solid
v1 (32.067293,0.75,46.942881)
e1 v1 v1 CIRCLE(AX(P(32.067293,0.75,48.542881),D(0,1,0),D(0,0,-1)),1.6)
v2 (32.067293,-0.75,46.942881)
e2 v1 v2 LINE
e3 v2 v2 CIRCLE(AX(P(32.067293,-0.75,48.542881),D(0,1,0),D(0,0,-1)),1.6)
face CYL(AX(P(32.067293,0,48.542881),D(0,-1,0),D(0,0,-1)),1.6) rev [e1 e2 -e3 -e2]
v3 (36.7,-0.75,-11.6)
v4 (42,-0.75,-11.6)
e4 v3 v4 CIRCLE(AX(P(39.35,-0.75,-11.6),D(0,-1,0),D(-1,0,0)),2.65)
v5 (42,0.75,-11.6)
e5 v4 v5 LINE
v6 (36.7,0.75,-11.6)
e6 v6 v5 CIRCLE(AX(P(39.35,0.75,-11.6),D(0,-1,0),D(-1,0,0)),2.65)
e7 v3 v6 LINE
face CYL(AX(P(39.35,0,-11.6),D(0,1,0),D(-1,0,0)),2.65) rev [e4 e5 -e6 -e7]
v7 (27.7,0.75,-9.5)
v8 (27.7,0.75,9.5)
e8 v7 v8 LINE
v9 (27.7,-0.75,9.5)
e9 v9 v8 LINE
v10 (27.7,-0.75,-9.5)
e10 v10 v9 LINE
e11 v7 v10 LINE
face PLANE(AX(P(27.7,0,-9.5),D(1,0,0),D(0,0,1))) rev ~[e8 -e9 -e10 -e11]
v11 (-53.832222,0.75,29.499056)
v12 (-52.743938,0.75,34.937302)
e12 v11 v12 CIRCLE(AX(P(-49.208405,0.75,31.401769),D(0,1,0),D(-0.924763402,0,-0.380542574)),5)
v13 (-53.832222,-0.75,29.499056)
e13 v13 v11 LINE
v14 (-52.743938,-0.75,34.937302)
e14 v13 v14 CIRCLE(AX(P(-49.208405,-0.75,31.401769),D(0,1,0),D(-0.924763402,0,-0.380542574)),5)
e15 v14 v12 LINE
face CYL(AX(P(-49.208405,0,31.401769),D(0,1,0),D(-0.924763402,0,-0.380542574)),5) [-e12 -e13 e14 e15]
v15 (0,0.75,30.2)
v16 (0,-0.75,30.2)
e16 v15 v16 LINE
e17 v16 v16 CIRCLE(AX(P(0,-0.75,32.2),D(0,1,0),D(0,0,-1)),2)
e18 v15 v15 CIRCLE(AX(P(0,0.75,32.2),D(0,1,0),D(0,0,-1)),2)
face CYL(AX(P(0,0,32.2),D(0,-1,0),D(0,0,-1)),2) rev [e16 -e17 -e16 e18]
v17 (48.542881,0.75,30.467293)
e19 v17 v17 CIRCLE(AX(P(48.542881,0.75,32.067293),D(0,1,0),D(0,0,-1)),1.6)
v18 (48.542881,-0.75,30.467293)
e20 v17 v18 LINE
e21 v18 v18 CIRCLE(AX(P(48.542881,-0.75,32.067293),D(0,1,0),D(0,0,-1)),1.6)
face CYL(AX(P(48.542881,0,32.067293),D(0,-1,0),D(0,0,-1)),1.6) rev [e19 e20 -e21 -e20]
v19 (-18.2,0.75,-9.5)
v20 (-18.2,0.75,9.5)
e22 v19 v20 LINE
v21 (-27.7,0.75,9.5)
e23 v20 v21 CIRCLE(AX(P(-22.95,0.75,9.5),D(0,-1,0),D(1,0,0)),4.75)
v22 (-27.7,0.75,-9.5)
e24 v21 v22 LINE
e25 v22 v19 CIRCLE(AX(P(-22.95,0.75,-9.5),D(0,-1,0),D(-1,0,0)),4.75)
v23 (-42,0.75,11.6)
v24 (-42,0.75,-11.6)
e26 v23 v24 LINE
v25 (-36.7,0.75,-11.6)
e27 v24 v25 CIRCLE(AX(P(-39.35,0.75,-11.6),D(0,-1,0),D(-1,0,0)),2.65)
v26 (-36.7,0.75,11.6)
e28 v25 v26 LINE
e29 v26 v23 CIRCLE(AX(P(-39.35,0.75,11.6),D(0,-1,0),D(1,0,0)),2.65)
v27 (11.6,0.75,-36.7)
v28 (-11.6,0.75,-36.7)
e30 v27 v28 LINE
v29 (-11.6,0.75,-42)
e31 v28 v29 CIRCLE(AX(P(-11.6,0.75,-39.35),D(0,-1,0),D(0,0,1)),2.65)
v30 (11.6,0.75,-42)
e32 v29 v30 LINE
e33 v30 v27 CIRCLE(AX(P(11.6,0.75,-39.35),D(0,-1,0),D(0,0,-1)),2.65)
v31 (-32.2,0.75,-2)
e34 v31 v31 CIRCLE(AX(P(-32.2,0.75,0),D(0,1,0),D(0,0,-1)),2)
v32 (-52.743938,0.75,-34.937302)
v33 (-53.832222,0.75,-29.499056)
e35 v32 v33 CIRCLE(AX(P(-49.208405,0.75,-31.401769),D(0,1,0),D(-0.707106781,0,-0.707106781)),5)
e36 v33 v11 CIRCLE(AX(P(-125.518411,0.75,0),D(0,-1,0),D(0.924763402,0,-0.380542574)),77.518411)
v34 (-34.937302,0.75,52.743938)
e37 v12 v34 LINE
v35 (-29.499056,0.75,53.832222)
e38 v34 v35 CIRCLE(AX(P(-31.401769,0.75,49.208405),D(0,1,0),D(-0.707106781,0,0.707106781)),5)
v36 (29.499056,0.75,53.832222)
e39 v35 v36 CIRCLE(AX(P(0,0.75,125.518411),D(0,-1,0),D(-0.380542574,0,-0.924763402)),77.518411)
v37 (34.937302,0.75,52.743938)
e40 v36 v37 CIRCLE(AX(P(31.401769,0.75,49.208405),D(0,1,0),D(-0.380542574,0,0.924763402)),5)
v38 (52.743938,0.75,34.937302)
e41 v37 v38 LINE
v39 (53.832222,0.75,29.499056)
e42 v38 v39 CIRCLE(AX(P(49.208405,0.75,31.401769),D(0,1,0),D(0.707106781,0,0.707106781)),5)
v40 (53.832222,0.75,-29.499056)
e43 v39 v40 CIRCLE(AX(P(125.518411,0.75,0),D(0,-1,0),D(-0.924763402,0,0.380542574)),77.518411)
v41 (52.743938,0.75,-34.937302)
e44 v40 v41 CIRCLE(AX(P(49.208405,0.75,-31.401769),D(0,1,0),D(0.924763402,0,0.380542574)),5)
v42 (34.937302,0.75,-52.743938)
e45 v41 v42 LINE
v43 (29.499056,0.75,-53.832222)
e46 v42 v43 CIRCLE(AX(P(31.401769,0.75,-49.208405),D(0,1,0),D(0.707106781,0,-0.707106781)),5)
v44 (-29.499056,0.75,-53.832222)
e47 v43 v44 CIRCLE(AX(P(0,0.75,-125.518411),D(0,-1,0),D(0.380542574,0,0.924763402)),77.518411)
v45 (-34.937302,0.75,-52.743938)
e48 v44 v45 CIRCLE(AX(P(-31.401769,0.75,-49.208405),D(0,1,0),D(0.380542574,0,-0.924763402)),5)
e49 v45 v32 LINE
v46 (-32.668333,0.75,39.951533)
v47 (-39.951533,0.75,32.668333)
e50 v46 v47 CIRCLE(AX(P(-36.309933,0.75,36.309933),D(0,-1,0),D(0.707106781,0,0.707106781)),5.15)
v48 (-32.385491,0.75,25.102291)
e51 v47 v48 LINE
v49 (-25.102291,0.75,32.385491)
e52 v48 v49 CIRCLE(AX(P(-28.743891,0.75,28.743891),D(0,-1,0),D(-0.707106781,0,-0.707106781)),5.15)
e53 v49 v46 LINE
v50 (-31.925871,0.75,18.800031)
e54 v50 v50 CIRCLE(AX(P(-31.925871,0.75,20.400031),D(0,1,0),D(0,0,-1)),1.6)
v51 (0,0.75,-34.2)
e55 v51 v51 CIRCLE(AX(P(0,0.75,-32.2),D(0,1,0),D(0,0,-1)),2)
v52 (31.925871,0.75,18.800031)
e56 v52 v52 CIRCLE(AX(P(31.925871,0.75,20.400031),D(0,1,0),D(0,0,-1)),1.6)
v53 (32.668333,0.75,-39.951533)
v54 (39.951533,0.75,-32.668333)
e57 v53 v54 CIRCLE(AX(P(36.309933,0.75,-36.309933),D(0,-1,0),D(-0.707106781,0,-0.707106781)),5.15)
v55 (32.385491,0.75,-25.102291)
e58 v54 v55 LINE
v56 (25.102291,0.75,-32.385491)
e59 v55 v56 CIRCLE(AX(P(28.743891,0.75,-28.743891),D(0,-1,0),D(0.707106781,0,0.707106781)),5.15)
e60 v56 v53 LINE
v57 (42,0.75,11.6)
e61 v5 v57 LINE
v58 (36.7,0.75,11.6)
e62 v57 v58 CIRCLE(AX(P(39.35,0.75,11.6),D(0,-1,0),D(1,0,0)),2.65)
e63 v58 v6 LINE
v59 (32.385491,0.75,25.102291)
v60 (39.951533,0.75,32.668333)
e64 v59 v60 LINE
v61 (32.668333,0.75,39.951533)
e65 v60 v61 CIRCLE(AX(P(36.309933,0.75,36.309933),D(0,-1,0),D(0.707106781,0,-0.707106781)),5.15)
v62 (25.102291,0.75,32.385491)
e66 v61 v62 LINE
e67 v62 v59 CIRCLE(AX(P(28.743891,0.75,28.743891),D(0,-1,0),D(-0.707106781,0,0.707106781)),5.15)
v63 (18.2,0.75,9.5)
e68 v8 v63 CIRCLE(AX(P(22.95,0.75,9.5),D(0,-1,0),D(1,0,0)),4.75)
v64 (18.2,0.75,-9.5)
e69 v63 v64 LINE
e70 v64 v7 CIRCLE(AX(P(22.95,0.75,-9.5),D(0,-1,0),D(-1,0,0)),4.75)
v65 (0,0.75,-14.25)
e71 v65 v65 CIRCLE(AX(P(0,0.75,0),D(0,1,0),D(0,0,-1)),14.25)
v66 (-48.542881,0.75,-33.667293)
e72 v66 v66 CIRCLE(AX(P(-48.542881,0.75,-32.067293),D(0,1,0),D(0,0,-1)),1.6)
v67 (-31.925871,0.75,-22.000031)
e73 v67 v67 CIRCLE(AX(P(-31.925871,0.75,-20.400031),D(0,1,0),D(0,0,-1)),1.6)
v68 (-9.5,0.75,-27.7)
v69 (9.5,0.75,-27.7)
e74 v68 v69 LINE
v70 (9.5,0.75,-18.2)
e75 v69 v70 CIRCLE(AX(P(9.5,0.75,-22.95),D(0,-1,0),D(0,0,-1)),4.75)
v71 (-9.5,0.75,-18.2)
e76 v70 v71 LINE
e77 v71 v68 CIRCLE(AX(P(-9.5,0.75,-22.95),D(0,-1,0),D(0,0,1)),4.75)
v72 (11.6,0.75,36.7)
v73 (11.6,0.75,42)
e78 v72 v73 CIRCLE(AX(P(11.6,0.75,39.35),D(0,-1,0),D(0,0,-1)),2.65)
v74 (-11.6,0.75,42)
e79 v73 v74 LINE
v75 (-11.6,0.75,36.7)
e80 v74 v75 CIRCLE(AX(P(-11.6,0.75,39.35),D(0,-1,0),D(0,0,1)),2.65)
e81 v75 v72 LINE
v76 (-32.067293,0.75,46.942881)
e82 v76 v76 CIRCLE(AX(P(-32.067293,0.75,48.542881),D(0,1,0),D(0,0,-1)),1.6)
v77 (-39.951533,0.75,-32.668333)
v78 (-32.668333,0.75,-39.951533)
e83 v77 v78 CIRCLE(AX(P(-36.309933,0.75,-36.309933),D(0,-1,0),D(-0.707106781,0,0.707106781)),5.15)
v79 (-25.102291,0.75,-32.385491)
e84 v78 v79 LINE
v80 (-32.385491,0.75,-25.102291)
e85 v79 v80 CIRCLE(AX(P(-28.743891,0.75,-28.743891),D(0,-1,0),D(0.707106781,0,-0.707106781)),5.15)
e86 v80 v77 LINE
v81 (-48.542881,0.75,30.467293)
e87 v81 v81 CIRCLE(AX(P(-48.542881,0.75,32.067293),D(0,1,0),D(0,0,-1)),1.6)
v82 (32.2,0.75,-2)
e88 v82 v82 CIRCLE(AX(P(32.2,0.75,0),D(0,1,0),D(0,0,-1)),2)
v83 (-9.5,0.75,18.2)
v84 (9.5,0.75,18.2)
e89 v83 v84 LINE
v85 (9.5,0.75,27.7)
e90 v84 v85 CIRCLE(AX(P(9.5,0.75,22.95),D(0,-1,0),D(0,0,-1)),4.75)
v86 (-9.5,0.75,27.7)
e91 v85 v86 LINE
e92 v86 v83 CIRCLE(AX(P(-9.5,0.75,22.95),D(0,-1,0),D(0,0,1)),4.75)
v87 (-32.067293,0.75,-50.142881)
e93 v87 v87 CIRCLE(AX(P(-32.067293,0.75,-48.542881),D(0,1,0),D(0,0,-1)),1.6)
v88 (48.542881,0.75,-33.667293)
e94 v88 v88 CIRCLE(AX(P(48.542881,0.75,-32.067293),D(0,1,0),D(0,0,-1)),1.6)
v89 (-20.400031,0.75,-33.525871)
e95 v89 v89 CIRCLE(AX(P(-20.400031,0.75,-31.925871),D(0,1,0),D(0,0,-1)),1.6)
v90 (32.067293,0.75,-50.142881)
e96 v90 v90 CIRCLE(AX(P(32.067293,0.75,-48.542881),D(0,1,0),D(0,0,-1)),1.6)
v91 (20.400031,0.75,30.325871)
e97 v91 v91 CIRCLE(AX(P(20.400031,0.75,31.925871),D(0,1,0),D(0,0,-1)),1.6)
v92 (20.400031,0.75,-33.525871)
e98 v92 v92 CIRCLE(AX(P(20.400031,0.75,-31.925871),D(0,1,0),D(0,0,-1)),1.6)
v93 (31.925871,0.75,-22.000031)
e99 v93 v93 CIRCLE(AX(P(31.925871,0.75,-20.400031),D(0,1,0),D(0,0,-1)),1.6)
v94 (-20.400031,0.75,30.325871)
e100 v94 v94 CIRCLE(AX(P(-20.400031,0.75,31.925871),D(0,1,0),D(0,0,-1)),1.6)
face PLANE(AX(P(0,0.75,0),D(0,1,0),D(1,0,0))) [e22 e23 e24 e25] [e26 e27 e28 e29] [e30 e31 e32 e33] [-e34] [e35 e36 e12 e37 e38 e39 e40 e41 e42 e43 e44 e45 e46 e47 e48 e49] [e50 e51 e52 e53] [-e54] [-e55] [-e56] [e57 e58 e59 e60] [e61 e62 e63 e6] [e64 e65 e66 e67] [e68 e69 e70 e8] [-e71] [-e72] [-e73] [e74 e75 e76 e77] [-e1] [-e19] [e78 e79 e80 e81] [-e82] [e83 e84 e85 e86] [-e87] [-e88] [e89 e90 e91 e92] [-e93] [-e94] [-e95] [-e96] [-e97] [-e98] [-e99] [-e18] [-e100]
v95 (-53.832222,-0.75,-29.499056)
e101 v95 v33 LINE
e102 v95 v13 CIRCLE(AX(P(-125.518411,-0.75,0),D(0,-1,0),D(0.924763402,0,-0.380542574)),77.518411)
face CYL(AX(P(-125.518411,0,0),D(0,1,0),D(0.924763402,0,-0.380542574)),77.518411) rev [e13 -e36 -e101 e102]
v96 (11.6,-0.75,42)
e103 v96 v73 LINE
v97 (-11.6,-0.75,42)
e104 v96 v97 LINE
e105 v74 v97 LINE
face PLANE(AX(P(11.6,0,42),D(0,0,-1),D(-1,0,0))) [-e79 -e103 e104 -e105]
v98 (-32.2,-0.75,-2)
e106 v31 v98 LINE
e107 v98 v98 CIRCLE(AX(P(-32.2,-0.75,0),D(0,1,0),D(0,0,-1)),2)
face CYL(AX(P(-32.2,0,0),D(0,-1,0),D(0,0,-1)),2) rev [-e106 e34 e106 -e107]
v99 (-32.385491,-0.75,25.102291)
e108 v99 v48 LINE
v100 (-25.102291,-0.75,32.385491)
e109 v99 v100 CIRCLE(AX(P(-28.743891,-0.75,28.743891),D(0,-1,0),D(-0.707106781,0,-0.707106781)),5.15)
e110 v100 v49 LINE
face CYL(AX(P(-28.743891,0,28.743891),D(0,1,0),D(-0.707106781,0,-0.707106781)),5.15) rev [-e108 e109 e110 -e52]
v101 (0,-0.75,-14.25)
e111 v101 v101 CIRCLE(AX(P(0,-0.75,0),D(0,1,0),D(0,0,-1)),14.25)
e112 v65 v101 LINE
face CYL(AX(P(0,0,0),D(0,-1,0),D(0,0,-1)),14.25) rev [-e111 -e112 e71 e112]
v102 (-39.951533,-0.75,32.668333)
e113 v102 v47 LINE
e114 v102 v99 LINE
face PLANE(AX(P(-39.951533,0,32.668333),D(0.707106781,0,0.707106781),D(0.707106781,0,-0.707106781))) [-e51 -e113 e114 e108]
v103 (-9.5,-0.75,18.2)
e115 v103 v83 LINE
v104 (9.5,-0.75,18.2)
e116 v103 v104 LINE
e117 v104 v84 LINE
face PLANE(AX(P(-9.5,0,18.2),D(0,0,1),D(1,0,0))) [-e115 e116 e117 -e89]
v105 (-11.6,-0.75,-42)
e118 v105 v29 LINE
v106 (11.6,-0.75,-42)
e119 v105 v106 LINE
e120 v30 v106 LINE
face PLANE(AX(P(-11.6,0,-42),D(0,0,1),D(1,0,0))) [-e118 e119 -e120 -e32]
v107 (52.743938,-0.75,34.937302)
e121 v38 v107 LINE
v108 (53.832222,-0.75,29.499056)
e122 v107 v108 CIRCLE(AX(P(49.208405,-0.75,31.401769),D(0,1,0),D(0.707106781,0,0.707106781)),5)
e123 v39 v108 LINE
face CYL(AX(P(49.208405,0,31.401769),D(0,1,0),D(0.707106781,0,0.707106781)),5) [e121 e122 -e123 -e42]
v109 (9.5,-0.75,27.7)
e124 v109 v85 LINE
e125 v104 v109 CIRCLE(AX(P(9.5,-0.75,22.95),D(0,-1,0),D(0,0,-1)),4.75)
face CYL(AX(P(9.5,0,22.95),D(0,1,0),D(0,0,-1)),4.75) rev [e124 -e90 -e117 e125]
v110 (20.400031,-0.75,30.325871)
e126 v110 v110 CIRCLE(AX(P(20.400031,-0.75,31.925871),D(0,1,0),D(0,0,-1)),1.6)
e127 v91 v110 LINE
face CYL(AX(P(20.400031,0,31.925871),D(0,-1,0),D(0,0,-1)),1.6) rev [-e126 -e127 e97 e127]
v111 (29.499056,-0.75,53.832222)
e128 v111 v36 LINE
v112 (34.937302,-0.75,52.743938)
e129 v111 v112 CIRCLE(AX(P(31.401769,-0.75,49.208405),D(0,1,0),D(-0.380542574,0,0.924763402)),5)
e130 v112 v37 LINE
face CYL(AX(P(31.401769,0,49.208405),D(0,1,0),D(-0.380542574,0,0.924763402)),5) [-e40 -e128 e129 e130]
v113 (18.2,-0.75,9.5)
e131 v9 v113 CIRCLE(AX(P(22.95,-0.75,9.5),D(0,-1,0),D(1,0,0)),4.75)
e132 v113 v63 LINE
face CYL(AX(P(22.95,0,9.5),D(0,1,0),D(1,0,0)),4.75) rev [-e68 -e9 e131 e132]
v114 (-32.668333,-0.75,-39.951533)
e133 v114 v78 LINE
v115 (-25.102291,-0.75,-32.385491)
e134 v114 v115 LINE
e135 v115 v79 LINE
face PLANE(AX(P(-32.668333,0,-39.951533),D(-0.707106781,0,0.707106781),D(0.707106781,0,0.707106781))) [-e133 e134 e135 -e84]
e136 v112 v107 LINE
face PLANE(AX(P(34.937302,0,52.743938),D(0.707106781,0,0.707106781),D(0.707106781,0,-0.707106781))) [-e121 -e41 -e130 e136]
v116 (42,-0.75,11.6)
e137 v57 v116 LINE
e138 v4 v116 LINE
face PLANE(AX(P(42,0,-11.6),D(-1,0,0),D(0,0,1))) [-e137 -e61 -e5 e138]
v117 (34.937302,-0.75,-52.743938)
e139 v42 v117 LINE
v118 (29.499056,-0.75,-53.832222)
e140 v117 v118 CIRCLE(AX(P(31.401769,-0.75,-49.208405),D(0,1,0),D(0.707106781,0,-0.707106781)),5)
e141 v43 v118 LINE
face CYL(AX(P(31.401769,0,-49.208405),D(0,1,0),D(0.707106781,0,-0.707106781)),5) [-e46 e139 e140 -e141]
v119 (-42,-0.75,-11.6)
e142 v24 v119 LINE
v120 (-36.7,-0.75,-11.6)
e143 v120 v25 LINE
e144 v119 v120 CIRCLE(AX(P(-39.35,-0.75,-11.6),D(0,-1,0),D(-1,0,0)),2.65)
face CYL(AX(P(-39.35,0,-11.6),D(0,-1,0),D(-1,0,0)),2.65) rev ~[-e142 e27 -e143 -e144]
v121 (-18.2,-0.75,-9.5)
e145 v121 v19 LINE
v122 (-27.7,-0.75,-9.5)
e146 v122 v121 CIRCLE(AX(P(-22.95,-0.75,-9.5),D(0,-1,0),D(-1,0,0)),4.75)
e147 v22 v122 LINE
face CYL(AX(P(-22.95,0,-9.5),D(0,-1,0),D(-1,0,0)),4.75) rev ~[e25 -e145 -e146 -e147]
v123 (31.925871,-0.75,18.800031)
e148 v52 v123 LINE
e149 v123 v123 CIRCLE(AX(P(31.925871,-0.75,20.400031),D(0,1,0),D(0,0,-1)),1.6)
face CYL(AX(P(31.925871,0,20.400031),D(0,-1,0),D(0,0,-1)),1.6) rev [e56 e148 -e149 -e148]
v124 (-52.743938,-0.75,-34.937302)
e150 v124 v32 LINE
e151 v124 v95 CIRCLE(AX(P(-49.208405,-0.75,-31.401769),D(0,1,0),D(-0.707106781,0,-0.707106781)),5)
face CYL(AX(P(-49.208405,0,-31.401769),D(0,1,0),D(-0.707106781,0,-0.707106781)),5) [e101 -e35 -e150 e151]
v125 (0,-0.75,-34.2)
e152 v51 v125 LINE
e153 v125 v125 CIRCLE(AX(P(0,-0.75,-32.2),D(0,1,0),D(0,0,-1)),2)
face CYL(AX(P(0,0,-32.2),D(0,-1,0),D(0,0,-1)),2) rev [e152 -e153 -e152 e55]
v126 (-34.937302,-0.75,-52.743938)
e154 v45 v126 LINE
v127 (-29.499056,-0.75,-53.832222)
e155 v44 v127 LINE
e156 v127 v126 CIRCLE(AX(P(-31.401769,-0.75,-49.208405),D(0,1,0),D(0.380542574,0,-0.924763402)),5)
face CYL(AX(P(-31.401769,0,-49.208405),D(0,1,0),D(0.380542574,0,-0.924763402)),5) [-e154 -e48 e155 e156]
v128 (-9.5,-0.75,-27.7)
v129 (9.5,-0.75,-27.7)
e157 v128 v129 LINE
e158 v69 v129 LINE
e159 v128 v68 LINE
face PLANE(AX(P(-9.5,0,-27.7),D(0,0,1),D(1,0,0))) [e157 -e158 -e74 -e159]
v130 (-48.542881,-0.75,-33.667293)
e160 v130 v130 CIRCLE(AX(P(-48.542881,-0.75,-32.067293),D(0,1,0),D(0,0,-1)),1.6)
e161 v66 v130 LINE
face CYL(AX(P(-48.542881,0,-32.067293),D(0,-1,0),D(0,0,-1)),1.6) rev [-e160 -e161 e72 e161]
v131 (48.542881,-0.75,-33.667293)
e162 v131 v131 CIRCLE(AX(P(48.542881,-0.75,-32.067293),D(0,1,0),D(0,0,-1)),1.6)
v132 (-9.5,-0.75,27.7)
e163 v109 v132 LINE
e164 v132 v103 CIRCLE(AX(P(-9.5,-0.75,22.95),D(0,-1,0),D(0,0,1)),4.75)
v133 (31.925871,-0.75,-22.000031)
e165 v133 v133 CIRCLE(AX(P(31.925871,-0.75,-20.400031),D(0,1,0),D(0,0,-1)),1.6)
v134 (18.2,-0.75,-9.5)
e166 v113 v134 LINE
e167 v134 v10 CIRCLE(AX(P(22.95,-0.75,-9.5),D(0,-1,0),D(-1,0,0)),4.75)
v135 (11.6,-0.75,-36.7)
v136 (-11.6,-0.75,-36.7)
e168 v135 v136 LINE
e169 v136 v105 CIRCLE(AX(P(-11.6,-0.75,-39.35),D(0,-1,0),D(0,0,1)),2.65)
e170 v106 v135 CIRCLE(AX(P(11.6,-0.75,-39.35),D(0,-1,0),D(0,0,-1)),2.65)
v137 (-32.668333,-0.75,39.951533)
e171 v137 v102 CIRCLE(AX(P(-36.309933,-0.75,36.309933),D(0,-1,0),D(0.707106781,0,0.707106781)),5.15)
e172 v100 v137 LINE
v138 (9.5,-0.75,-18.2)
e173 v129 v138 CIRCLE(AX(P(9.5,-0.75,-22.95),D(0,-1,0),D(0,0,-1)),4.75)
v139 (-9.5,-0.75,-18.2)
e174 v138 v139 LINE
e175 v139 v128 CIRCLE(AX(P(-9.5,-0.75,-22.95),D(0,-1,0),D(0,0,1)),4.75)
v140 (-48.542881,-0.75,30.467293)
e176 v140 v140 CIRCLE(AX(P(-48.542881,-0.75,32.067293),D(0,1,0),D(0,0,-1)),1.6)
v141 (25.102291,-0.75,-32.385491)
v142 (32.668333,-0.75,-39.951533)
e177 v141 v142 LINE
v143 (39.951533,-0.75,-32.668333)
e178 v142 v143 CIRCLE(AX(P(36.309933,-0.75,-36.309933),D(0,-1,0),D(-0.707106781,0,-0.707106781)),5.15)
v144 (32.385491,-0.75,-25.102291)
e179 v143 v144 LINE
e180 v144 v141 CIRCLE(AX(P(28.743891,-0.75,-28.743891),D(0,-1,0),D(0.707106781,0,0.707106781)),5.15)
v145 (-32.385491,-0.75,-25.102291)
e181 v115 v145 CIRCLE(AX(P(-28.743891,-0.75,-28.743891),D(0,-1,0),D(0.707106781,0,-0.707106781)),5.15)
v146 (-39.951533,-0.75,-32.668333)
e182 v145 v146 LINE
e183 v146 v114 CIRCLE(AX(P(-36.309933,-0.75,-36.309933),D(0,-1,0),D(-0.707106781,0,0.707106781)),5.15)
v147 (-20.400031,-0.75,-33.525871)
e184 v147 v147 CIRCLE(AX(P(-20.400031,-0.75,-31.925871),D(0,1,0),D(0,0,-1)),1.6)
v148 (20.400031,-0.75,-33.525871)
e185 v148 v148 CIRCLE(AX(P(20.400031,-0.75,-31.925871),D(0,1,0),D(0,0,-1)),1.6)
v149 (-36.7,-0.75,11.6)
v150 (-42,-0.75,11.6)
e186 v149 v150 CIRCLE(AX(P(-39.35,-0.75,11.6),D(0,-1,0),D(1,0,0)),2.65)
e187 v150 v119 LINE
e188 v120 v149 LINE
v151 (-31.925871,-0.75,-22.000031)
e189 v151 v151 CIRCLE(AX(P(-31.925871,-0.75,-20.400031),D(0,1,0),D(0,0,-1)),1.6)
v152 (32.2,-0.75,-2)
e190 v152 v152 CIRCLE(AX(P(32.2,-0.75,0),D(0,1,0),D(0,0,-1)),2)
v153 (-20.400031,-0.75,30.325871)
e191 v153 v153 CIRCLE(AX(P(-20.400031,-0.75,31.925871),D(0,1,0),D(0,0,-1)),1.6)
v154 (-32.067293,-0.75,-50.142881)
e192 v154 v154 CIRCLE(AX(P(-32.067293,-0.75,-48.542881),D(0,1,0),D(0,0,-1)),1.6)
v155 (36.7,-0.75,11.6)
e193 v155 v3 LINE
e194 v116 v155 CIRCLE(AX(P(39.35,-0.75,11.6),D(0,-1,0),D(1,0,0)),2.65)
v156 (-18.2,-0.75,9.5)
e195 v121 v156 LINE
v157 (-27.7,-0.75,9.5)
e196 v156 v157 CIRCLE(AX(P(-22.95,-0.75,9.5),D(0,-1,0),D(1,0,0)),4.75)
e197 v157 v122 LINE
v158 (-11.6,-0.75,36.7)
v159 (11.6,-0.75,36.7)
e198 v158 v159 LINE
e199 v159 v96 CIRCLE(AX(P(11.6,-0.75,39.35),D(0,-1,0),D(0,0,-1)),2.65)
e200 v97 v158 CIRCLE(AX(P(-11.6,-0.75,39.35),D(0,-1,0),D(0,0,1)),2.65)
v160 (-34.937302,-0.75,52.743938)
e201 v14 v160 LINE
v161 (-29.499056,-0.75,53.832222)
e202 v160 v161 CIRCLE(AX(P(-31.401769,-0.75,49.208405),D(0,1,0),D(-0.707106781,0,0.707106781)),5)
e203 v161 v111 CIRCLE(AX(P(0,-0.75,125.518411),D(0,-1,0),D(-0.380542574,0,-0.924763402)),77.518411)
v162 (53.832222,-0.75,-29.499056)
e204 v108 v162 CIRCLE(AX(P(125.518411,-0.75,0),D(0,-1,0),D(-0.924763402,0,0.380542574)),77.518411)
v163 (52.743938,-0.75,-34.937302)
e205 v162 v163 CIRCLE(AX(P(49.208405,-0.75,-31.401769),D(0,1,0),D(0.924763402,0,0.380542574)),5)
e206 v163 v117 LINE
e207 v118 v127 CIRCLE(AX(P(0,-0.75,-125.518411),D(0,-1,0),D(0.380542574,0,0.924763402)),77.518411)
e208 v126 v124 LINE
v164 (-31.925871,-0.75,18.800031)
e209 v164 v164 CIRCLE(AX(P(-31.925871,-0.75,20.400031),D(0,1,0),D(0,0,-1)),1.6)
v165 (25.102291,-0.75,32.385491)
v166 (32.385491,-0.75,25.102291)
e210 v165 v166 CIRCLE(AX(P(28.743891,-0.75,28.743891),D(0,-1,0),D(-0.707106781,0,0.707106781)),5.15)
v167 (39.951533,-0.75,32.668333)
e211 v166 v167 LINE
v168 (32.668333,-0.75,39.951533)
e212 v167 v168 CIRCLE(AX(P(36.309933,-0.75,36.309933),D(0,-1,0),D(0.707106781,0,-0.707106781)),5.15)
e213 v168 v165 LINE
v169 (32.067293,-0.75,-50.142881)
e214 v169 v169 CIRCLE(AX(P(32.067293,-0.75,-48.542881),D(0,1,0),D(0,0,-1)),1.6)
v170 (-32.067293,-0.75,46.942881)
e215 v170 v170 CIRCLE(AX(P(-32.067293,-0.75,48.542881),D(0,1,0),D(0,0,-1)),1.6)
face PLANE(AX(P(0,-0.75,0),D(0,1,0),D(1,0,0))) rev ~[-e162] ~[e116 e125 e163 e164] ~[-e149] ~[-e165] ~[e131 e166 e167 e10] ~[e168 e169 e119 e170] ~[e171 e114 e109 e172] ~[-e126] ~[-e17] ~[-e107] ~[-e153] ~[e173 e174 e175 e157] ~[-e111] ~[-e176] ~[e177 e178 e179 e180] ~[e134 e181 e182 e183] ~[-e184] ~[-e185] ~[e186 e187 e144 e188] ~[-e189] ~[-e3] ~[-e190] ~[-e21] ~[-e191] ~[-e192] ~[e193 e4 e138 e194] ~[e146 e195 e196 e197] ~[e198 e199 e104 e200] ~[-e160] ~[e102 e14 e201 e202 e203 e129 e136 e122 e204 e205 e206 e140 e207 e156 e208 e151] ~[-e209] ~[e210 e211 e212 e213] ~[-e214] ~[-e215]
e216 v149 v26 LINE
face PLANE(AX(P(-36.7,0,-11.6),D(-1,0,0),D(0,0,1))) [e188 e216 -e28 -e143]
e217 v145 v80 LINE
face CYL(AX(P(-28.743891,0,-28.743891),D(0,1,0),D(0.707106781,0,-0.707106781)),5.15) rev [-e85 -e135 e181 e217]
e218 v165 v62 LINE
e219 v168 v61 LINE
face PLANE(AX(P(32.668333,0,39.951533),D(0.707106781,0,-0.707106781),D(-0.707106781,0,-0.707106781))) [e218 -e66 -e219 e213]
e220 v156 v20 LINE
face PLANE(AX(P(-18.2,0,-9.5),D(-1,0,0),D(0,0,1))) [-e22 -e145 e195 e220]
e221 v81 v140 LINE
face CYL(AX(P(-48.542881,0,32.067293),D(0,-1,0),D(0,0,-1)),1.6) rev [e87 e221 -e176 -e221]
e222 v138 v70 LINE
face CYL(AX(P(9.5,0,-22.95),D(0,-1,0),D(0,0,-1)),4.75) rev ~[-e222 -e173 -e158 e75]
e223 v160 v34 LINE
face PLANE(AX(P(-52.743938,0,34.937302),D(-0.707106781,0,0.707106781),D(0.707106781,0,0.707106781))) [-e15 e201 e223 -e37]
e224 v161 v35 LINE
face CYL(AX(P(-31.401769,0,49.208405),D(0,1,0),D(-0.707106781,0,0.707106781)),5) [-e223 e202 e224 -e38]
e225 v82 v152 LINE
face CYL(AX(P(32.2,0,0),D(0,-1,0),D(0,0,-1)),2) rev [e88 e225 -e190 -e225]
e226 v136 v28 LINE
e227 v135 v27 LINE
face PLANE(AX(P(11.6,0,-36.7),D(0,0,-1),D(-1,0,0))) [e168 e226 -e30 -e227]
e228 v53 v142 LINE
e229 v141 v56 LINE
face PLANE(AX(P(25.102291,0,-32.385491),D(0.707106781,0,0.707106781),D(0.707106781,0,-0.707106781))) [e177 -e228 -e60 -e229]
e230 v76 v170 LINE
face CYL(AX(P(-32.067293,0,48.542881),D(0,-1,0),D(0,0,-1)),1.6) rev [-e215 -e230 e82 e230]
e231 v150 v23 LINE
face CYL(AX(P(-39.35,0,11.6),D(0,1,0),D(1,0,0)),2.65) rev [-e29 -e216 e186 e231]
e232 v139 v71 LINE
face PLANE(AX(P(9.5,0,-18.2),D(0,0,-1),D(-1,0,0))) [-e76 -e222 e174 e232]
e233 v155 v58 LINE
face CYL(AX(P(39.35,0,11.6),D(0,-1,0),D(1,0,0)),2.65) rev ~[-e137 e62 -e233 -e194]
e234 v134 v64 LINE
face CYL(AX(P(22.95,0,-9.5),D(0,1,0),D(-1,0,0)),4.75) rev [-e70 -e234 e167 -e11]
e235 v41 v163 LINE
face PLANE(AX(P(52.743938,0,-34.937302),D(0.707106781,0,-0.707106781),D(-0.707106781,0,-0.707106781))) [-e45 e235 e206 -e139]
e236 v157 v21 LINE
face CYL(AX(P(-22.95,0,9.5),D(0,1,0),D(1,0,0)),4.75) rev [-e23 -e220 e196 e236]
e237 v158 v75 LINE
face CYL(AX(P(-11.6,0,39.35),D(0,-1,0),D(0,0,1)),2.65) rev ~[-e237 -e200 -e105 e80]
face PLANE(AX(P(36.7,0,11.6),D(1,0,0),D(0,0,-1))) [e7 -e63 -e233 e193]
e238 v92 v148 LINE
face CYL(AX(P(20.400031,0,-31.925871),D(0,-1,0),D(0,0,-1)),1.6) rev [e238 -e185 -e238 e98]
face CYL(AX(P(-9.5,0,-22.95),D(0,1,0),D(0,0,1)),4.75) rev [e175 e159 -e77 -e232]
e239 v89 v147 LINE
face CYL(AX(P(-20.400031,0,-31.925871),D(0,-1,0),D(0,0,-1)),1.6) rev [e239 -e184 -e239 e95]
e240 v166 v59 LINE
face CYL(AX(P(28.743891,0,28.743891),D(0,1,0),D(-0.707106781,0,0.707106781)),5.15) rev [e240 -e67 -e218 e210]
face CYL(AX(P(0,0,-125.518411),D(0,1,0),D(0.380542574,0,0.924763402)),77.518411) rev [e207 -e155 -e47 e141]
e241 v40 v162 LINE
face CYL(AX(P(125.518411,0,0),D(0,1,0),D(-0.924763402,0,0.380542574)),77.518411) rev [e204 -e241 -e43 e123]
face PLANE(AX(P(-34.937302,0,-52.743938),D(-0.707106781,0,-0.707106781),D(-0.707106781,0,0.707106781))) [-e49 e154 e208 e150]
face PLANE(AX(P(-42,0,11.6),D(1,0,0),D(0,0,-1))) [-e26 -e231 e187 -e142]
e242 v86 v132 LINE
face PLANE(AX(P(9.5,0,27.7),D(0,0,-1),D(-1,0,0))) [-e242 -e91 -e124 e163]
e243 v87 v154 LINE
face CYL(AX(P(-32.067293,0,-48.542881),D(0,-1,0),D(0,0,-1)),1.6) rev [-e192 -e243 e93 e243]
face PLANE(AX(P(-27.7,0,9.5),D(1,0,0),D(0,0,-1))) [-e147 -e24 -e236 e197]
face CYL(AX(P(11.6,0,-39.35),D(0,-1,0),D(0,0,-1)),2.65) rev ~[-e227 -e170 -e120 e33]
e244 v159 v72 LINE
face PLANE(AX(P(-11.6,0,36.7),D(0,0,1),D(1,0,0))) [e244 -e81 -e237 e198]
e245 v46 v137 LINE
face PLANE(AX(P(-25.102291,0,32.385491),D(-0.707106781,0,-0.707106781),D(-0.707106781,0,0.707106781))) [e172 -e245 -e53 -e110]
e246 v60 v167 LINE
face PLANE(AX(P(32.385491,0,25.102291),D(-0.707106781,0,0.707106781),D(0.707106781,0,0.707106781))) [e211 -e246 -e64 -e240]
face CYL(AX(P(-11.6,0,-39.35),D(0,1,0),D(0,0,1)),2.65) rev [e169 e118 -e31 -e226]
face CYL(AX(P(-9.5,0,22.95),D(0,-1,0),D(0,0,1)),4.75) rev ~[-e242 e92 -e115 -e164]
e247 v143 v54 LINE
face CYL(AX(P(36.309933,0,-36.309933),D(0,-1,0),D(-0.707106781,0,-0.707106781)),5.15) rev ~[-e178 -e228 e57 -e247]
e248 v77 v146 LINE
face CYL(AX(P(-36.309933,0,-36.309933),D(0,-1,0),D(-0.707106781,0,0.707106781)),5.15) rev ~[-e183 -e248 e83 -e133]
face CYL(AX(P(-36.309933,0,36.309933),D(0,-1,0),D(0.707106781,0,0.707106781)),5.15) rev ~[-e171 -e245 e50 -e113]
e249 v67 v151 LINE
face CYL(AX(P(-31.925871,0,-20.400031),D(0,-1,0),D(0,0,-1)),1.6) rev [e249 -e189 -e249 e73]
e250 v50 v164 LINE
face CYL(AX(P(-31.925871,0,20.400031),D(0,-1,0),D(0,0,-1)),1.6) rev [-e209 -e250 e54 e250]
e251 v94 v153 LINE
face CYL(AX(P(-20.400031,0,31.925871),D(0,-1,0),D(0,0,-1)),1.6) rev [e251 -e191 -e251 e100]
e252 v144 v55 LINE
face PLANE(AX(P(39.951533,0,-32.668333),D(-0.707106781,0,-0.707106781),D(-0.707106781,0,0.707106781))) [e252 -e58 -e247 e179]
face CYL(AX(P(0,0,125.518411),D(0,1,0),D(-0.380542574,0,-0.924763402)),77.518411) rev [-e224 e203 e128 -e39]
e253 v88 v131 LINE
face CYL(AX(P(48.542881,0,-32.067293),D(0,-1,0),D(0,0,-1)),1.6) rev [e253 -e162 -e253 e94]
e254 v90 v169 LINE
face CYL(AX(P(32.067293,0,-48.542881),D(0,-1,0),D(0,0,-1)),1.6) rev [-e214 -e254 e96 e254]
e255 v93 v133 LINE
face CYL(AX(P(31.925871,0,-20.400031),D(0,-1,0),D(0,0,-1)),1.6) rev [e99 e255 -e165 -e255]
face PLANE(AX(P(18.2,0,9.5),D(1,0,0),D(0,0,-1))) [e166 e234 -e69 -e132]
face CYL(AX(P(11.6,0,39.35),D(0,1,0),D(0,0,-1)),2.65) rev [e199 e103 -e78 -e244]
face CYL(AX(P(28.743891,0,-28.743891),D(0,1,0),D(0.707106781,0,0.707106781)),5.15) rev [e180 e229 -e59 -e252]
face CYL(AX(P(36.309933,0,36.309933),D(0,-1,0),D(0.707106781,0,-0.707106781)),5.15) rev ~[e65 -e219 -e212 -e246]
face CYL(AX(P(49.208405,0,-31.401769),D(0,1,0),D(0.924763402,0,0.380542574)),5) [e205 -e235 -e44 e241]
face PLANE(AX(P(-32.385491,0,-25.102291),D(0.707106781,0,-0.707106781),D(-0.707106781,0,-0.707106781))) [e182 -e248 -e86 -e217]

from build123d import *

# Parameters (mm, degrees)
SKETCH1_R           = 14.25
SKETCH1_R_2         = 2
SKETCH1_R_3         = 1.6
BOSS_EXTRUDE1_DEPTH = 0.75


with BuildPart() as part:
    # Sketch1 → Boss-Extrude1 (new, symmetric)
    with BuildSketch(Plane(origin=(0, 0, 0), x_dir=(1, 0, 0), z_dir=(0, 1, 0))):
        with BuildLine():
            Line((-34.937302436, 52.743938431), (-52.743938431, 34.937302436))
            ThreePointArc((-52.743938431, 34.937302436), (-54.111197998, 32.382898574), (-53.832221535, 29.499055662))
            ThreePointArc((-53.832221535, 29.499055662), (-48, 0), (-53.832221535, -29.499055662))
            ThreePointArc((-53.832221535, -29.499055662), (-54.111197998, -32.382898574), (-52.743938431, -34.937302436))
            Line((-52.743938431, -34.937302436), (-34.937302436, -52.743938431))
            ThreePointArc((-34.937302436, -52.743938431), (-32.382898574, -54.111197998), (-29.499055662, -53.832221535))
            ThreePointArc((-29.499055662, -53.832221535), (0, -48), (29.499055662, -53.832221535))
            ThreePointArc((29.499055662, -53.832221535), (32.382898574, -54.111197998), (34.937302436, -52.743938431))
            Line((34.937302436, -52.743938431), (52.743938431, -34.937302436))
            ThreePointArc((52.743938431, -34.937302436), (54.111197998, -32.382898574), (53.832221535, -29.499055662))
            ThreePointArc((53.832221535, -29.499055662), (48, 0), (53.832221535, 29.499055662))
            ThreePointArc((53.832221535, 29.499055662), (54.111197998, 32.382898574), (52.743938431, 34.937302436))
            Line((52.743938431, 34.937302436), (34.937302436, 52.743938431))
            ThreePointArc((34.937302436, 52.743938431), (32.382898574, 54.111197998), (29.499055662, 53.832221535))
            ThreePointArc((29.499055662, 53.832221535), (0, 48), (-29.499055662, 53.832221535))
            ThreePointArc((-29.499055662, 53.832221535), (-32.382898574, 54.111197998), (-34.937302436, 52.743938431))
        make_face()
        with Locations(Location((0, 0, 0), (0, 0, 90))):
            Circle(SKETCH1_R, mode=Mode.SUBTRACT)
        with Locations(Location((-32.2, 0, 0), (0, 0, 90))):
            Circle(SKETCH1_R_2, mode=Mode.SUBTRACT)
        with Locations(Location((-20.400030637, 31.925871171, 0), (0, 0, 90))):
            Circle(SKETCH1_R_3, mode=Mode.SUBTRACT)
        with Locations(Location((-32.067292527, 48.542880528, 0), (0, 0, 90))):
            Circle(SKETCH1_R_3, mode=Mode.SUBTRACT)
        with Locations(Location((-31.925871171, -20.400030637, 0), (0, 0, 90))):
            Circle(SKETCH1_R_3, mode=Mode.SUBTRACT)
        with Locations(Location((-48.542880528, -32.067292527, 0), (0, 0, 90))):
            Circle(SKETCH1_R_3, mode=Mode.SUBTRACT)
        with Locations(Location((20.400030637, -31.925871171, 0), (0, 0, 90))):
            Circle(SKETCH1_R_3, mode=Mode.SUBTRACT)
        with Locations(Location((32.067292527, -48.542880528, 0), (0, 0, 90))):
            Circle(SKETCH1_R_3, mode=Mode.SUBTRACT)
        with Locations(Location((31.925871171, 20.400030637, 0), (0, 0, 90))):
            Circle(SKETCH1_R_3, mode=Mode.SUBTRACT)
        with Locations(Location((48.542880528, 32.067292527, 0), (0, 0, 90))):
            Circle(SKETCH1_R_3, mode=Mode.SUBTRACT)
        with Locations(Location((32.067292527, 48.542880528, 0), (0, 0, 90))):
            Circle(SKETCH1_R_3, mode=Mode.SUBTRACT)
        with Locations(Location((20.400030637, 31.925871171, 0), (0, 0, 90))):
            Circle(SKETCH1_R_3, mode=Mode.SUBTRACT)
        with Locations(Location((48.542880528, -32.067292527, 0), (0, 0, 90))):
            Circle(SKETCH1_R_3, mode=Mode.SUBTRACT)
        with Locations(Location((31.925871171, -20.400030637, 0), (0, 0, 90))):
            Circle(SKETCH1_R_3, mode=Mode.SUBTRACT)
        with Locations(Location((-32.067292527, -48.542880528, 0), (0, 0, 90))):
            Circle(SKETCH1_R_3, mode=Mode.SUBTRACT)
        with Locations(Location((-20.400030637, -31.925871171, 0), (0, 0, 90))):
            Circle(SKETCH1_R_3, mode=Mode.SUBTRACT)
        with Locations(Location((-48.542880528, 32.067292527, 0), (0, 0, 90))):
            Circle(SKETCH1_R_3, mode=Mode.SUBTRACT)
        with Locations(Location((-31.925871171, 20.400030637, 0), (0, 0, 90))):
            Circle(SKETCH1_R_3, mode=Mode.SUBTRACT)
        with Locations(Location((0, 32.2, 0), (0, 0, 90))):
            Circle(SKETCH1_R_2, mode=Mode.SUBTRACT)
        with Locations(Location((0, -32.2, 0), (0, 0, 90))):
            Circle(SKETCH1_R_2, mode=Mode.SUBTRACT)
        with Locations(Location((32.2, 0, 0), (0, 0, 90))):
            Circle(SKETCH1_R_2, mode=Mode.SUBTRACT)
        with BuildLine():
            Line((9.5, -27.7), (-9.5, -27.7))
            ThreePointArc((-9.5, -27.7), (-14.25, -22.95), (-9.5, -18.2))
            Line((-9.5, -18.2), (9.5, -18.2))
            ThreePointArc((9.5, -18.2), (14.25, -22.95), (9.5, -27.7))
        make_face(mode=Mode.SUBTRACT)
        with BuildLine():
            Line((11.6, -42), (-11.6, -42))
            ThreePointArc((-11.6, -42), (-14.25, -39.35), (-11.6, -36.7))
            Line((-11.6, -36.7), (11.6, -36.7))
            ThreePointArc((11.6, -36.7), (14.25, -39.35), (11.6, -42))
        make_face(mode=Mode.SUBTRACT)
        with BuildLine():
            Line((32.385490578, -25.102290732), (39.951533137, -32.668333291))
            ThreePointArc((39.951533137, -32.668333291), (39.951533137, -39.951533137), (32.668333291, -39.951533137))
            Line((32.668333291, -39.951533137), (25.102290732, -32.385490578))
            ThreePointArc((25.102290732, -32.385490578), (25.102290732, -25.102290732), (32.385490578, -25.102290732))
        make_face(mode=Mode.SUBTRACT)
        with BuildLine():
            Line((-9.5, 27.7), (9.5, 27.7))
            ThreePointArc((9.5, 27.7), (14.25, 22.95), (9.5, 18.2))
            Line((9.5, 18.2), (-9.5, 18.2))
            ThreePointArc((-9.5, 18.2), (-14.25, 22.95), (-9.5, 27.7))
        make_face(mode=Mode.SUBTRACT)
        with BuildLine():
            Line((-11.6, 42), (11.6, 42))
            ThreePointArc((11.6, 42), (14.25, 39.35), (11.6, 36.7))
            Line((11.6, 36.7), (-11.6, 36.7))
            ThreePointArc((-11.6, 36.7), (-14.25, 39.35), (-11.6, 42))
        make_face(mode=Mode.SUBTRACT)
        with BuildLine():
            Line((-32.385490578, 25.102290732), (-39.951533137, 32.668333291))
            ThreePointArc((-39.951533137, 32.668333291), (-39.951533137, 39.951533137), (-32.668333291, 39.951533137))
            Line((-32.668333291, 39.951533137), (-25.102290732, 32.385490578))
            ThreePointArc((-25.102290732, 32.385490578), (-25.102290732, 25.102290732), (-32.385490578, 25.102290732))
        make_face(mode=Mode.SUBTRACT)
        with BuildLine():
            Line((25.102290732, 32.385490578), (32.668333291, 39.951533137))
            ThreePointArc((32.668333291, 39.951533137), (39.951533137, 39.951533137), (39.951533137, 32.668333291))
            Line((39.951533137, 32.668333291), (32.385490578, 25.102290732))
            ThreePointArc((32.385490578, 25.102290732), (25.102290732, 25.102290732), (25.102290732, 32.385490578))
        make_face(mode=Mode.SUBTRACT)
        with BuildLine():
            Line((-25.102290732, -32.385490578), (-32.668333291, -39.951533137))
            ThreePointArc((-32.668333291, -39.951533137), (-39.951533137, -39.951533137), (-39.951533137, -32.668333291))
            Line((-39.951533137, -32.668333291), (-32.385490578, -25.102290732))
            ThreePointArc((-32.385490578, -25.102290732), (-25.102290732, -25.102290732), (-25.102290732, -32.385490578))
        make_face(mode=Mode.SUBTRACT)
        with BuildLine():
            Line((-42, -11.6), (-42, 11.6))
            ThreePointArc((-42, 11.6), (-39.35, 14.25), (-36.7, 11.6))
            Line((-36.7, 11.6), (-36.7, -11.6))
            ThreePointArc((-36.7, -11.6), (-39.35, -14.25), (-42, -11.6))
        make_face(mode=Mode.SUBTRACT)
        with BuildLine():
            Line((-27.7, -9.5), (-27.7, 9.5))
            ThreePointArc((-27.7, 9.5), (-22.95, 14.25), (-18.2, 9.5))
            Line((-18.2, 9.5), (-18.2, -9.5))
            ThreePointArc((-18.2, -9.5), (-22.95, -14.25), (-27.7, -9.5))
        make_face(mode=Mode.SUBTRACT)
        with BuildLine():
            Line((42, 11.6), (42, -11.6))
            ThreePointArc((42, -11.6), (39.35, -14.25), (36.7, -11.6))
            Line((36.7, -11.6), (36.7, 11.6))
            ThreePointArc((36.7, 11.6), (39.35, 14.25), (42, 11.6))
        make_face(mode=Mode.SUBTRACT)
        with BuildLine():
            Line((27.7, 9.5), (27.7, -9.5))
            ThreePointArc((27.7, -9.5), (22.95, -14.25), (18.2, -9.5))
            Line((18.2, -9.5), (18.2, 9.5))
            ThreePointArc((18.2, 9.5), (22.95, 14.25), (27.7, 9.5))
        make_face(mode=Mode.SUBTRACT)
    extrude(amount=BOSS_EXTRUDE1_DEPTH, both=True)


solid = part.part
